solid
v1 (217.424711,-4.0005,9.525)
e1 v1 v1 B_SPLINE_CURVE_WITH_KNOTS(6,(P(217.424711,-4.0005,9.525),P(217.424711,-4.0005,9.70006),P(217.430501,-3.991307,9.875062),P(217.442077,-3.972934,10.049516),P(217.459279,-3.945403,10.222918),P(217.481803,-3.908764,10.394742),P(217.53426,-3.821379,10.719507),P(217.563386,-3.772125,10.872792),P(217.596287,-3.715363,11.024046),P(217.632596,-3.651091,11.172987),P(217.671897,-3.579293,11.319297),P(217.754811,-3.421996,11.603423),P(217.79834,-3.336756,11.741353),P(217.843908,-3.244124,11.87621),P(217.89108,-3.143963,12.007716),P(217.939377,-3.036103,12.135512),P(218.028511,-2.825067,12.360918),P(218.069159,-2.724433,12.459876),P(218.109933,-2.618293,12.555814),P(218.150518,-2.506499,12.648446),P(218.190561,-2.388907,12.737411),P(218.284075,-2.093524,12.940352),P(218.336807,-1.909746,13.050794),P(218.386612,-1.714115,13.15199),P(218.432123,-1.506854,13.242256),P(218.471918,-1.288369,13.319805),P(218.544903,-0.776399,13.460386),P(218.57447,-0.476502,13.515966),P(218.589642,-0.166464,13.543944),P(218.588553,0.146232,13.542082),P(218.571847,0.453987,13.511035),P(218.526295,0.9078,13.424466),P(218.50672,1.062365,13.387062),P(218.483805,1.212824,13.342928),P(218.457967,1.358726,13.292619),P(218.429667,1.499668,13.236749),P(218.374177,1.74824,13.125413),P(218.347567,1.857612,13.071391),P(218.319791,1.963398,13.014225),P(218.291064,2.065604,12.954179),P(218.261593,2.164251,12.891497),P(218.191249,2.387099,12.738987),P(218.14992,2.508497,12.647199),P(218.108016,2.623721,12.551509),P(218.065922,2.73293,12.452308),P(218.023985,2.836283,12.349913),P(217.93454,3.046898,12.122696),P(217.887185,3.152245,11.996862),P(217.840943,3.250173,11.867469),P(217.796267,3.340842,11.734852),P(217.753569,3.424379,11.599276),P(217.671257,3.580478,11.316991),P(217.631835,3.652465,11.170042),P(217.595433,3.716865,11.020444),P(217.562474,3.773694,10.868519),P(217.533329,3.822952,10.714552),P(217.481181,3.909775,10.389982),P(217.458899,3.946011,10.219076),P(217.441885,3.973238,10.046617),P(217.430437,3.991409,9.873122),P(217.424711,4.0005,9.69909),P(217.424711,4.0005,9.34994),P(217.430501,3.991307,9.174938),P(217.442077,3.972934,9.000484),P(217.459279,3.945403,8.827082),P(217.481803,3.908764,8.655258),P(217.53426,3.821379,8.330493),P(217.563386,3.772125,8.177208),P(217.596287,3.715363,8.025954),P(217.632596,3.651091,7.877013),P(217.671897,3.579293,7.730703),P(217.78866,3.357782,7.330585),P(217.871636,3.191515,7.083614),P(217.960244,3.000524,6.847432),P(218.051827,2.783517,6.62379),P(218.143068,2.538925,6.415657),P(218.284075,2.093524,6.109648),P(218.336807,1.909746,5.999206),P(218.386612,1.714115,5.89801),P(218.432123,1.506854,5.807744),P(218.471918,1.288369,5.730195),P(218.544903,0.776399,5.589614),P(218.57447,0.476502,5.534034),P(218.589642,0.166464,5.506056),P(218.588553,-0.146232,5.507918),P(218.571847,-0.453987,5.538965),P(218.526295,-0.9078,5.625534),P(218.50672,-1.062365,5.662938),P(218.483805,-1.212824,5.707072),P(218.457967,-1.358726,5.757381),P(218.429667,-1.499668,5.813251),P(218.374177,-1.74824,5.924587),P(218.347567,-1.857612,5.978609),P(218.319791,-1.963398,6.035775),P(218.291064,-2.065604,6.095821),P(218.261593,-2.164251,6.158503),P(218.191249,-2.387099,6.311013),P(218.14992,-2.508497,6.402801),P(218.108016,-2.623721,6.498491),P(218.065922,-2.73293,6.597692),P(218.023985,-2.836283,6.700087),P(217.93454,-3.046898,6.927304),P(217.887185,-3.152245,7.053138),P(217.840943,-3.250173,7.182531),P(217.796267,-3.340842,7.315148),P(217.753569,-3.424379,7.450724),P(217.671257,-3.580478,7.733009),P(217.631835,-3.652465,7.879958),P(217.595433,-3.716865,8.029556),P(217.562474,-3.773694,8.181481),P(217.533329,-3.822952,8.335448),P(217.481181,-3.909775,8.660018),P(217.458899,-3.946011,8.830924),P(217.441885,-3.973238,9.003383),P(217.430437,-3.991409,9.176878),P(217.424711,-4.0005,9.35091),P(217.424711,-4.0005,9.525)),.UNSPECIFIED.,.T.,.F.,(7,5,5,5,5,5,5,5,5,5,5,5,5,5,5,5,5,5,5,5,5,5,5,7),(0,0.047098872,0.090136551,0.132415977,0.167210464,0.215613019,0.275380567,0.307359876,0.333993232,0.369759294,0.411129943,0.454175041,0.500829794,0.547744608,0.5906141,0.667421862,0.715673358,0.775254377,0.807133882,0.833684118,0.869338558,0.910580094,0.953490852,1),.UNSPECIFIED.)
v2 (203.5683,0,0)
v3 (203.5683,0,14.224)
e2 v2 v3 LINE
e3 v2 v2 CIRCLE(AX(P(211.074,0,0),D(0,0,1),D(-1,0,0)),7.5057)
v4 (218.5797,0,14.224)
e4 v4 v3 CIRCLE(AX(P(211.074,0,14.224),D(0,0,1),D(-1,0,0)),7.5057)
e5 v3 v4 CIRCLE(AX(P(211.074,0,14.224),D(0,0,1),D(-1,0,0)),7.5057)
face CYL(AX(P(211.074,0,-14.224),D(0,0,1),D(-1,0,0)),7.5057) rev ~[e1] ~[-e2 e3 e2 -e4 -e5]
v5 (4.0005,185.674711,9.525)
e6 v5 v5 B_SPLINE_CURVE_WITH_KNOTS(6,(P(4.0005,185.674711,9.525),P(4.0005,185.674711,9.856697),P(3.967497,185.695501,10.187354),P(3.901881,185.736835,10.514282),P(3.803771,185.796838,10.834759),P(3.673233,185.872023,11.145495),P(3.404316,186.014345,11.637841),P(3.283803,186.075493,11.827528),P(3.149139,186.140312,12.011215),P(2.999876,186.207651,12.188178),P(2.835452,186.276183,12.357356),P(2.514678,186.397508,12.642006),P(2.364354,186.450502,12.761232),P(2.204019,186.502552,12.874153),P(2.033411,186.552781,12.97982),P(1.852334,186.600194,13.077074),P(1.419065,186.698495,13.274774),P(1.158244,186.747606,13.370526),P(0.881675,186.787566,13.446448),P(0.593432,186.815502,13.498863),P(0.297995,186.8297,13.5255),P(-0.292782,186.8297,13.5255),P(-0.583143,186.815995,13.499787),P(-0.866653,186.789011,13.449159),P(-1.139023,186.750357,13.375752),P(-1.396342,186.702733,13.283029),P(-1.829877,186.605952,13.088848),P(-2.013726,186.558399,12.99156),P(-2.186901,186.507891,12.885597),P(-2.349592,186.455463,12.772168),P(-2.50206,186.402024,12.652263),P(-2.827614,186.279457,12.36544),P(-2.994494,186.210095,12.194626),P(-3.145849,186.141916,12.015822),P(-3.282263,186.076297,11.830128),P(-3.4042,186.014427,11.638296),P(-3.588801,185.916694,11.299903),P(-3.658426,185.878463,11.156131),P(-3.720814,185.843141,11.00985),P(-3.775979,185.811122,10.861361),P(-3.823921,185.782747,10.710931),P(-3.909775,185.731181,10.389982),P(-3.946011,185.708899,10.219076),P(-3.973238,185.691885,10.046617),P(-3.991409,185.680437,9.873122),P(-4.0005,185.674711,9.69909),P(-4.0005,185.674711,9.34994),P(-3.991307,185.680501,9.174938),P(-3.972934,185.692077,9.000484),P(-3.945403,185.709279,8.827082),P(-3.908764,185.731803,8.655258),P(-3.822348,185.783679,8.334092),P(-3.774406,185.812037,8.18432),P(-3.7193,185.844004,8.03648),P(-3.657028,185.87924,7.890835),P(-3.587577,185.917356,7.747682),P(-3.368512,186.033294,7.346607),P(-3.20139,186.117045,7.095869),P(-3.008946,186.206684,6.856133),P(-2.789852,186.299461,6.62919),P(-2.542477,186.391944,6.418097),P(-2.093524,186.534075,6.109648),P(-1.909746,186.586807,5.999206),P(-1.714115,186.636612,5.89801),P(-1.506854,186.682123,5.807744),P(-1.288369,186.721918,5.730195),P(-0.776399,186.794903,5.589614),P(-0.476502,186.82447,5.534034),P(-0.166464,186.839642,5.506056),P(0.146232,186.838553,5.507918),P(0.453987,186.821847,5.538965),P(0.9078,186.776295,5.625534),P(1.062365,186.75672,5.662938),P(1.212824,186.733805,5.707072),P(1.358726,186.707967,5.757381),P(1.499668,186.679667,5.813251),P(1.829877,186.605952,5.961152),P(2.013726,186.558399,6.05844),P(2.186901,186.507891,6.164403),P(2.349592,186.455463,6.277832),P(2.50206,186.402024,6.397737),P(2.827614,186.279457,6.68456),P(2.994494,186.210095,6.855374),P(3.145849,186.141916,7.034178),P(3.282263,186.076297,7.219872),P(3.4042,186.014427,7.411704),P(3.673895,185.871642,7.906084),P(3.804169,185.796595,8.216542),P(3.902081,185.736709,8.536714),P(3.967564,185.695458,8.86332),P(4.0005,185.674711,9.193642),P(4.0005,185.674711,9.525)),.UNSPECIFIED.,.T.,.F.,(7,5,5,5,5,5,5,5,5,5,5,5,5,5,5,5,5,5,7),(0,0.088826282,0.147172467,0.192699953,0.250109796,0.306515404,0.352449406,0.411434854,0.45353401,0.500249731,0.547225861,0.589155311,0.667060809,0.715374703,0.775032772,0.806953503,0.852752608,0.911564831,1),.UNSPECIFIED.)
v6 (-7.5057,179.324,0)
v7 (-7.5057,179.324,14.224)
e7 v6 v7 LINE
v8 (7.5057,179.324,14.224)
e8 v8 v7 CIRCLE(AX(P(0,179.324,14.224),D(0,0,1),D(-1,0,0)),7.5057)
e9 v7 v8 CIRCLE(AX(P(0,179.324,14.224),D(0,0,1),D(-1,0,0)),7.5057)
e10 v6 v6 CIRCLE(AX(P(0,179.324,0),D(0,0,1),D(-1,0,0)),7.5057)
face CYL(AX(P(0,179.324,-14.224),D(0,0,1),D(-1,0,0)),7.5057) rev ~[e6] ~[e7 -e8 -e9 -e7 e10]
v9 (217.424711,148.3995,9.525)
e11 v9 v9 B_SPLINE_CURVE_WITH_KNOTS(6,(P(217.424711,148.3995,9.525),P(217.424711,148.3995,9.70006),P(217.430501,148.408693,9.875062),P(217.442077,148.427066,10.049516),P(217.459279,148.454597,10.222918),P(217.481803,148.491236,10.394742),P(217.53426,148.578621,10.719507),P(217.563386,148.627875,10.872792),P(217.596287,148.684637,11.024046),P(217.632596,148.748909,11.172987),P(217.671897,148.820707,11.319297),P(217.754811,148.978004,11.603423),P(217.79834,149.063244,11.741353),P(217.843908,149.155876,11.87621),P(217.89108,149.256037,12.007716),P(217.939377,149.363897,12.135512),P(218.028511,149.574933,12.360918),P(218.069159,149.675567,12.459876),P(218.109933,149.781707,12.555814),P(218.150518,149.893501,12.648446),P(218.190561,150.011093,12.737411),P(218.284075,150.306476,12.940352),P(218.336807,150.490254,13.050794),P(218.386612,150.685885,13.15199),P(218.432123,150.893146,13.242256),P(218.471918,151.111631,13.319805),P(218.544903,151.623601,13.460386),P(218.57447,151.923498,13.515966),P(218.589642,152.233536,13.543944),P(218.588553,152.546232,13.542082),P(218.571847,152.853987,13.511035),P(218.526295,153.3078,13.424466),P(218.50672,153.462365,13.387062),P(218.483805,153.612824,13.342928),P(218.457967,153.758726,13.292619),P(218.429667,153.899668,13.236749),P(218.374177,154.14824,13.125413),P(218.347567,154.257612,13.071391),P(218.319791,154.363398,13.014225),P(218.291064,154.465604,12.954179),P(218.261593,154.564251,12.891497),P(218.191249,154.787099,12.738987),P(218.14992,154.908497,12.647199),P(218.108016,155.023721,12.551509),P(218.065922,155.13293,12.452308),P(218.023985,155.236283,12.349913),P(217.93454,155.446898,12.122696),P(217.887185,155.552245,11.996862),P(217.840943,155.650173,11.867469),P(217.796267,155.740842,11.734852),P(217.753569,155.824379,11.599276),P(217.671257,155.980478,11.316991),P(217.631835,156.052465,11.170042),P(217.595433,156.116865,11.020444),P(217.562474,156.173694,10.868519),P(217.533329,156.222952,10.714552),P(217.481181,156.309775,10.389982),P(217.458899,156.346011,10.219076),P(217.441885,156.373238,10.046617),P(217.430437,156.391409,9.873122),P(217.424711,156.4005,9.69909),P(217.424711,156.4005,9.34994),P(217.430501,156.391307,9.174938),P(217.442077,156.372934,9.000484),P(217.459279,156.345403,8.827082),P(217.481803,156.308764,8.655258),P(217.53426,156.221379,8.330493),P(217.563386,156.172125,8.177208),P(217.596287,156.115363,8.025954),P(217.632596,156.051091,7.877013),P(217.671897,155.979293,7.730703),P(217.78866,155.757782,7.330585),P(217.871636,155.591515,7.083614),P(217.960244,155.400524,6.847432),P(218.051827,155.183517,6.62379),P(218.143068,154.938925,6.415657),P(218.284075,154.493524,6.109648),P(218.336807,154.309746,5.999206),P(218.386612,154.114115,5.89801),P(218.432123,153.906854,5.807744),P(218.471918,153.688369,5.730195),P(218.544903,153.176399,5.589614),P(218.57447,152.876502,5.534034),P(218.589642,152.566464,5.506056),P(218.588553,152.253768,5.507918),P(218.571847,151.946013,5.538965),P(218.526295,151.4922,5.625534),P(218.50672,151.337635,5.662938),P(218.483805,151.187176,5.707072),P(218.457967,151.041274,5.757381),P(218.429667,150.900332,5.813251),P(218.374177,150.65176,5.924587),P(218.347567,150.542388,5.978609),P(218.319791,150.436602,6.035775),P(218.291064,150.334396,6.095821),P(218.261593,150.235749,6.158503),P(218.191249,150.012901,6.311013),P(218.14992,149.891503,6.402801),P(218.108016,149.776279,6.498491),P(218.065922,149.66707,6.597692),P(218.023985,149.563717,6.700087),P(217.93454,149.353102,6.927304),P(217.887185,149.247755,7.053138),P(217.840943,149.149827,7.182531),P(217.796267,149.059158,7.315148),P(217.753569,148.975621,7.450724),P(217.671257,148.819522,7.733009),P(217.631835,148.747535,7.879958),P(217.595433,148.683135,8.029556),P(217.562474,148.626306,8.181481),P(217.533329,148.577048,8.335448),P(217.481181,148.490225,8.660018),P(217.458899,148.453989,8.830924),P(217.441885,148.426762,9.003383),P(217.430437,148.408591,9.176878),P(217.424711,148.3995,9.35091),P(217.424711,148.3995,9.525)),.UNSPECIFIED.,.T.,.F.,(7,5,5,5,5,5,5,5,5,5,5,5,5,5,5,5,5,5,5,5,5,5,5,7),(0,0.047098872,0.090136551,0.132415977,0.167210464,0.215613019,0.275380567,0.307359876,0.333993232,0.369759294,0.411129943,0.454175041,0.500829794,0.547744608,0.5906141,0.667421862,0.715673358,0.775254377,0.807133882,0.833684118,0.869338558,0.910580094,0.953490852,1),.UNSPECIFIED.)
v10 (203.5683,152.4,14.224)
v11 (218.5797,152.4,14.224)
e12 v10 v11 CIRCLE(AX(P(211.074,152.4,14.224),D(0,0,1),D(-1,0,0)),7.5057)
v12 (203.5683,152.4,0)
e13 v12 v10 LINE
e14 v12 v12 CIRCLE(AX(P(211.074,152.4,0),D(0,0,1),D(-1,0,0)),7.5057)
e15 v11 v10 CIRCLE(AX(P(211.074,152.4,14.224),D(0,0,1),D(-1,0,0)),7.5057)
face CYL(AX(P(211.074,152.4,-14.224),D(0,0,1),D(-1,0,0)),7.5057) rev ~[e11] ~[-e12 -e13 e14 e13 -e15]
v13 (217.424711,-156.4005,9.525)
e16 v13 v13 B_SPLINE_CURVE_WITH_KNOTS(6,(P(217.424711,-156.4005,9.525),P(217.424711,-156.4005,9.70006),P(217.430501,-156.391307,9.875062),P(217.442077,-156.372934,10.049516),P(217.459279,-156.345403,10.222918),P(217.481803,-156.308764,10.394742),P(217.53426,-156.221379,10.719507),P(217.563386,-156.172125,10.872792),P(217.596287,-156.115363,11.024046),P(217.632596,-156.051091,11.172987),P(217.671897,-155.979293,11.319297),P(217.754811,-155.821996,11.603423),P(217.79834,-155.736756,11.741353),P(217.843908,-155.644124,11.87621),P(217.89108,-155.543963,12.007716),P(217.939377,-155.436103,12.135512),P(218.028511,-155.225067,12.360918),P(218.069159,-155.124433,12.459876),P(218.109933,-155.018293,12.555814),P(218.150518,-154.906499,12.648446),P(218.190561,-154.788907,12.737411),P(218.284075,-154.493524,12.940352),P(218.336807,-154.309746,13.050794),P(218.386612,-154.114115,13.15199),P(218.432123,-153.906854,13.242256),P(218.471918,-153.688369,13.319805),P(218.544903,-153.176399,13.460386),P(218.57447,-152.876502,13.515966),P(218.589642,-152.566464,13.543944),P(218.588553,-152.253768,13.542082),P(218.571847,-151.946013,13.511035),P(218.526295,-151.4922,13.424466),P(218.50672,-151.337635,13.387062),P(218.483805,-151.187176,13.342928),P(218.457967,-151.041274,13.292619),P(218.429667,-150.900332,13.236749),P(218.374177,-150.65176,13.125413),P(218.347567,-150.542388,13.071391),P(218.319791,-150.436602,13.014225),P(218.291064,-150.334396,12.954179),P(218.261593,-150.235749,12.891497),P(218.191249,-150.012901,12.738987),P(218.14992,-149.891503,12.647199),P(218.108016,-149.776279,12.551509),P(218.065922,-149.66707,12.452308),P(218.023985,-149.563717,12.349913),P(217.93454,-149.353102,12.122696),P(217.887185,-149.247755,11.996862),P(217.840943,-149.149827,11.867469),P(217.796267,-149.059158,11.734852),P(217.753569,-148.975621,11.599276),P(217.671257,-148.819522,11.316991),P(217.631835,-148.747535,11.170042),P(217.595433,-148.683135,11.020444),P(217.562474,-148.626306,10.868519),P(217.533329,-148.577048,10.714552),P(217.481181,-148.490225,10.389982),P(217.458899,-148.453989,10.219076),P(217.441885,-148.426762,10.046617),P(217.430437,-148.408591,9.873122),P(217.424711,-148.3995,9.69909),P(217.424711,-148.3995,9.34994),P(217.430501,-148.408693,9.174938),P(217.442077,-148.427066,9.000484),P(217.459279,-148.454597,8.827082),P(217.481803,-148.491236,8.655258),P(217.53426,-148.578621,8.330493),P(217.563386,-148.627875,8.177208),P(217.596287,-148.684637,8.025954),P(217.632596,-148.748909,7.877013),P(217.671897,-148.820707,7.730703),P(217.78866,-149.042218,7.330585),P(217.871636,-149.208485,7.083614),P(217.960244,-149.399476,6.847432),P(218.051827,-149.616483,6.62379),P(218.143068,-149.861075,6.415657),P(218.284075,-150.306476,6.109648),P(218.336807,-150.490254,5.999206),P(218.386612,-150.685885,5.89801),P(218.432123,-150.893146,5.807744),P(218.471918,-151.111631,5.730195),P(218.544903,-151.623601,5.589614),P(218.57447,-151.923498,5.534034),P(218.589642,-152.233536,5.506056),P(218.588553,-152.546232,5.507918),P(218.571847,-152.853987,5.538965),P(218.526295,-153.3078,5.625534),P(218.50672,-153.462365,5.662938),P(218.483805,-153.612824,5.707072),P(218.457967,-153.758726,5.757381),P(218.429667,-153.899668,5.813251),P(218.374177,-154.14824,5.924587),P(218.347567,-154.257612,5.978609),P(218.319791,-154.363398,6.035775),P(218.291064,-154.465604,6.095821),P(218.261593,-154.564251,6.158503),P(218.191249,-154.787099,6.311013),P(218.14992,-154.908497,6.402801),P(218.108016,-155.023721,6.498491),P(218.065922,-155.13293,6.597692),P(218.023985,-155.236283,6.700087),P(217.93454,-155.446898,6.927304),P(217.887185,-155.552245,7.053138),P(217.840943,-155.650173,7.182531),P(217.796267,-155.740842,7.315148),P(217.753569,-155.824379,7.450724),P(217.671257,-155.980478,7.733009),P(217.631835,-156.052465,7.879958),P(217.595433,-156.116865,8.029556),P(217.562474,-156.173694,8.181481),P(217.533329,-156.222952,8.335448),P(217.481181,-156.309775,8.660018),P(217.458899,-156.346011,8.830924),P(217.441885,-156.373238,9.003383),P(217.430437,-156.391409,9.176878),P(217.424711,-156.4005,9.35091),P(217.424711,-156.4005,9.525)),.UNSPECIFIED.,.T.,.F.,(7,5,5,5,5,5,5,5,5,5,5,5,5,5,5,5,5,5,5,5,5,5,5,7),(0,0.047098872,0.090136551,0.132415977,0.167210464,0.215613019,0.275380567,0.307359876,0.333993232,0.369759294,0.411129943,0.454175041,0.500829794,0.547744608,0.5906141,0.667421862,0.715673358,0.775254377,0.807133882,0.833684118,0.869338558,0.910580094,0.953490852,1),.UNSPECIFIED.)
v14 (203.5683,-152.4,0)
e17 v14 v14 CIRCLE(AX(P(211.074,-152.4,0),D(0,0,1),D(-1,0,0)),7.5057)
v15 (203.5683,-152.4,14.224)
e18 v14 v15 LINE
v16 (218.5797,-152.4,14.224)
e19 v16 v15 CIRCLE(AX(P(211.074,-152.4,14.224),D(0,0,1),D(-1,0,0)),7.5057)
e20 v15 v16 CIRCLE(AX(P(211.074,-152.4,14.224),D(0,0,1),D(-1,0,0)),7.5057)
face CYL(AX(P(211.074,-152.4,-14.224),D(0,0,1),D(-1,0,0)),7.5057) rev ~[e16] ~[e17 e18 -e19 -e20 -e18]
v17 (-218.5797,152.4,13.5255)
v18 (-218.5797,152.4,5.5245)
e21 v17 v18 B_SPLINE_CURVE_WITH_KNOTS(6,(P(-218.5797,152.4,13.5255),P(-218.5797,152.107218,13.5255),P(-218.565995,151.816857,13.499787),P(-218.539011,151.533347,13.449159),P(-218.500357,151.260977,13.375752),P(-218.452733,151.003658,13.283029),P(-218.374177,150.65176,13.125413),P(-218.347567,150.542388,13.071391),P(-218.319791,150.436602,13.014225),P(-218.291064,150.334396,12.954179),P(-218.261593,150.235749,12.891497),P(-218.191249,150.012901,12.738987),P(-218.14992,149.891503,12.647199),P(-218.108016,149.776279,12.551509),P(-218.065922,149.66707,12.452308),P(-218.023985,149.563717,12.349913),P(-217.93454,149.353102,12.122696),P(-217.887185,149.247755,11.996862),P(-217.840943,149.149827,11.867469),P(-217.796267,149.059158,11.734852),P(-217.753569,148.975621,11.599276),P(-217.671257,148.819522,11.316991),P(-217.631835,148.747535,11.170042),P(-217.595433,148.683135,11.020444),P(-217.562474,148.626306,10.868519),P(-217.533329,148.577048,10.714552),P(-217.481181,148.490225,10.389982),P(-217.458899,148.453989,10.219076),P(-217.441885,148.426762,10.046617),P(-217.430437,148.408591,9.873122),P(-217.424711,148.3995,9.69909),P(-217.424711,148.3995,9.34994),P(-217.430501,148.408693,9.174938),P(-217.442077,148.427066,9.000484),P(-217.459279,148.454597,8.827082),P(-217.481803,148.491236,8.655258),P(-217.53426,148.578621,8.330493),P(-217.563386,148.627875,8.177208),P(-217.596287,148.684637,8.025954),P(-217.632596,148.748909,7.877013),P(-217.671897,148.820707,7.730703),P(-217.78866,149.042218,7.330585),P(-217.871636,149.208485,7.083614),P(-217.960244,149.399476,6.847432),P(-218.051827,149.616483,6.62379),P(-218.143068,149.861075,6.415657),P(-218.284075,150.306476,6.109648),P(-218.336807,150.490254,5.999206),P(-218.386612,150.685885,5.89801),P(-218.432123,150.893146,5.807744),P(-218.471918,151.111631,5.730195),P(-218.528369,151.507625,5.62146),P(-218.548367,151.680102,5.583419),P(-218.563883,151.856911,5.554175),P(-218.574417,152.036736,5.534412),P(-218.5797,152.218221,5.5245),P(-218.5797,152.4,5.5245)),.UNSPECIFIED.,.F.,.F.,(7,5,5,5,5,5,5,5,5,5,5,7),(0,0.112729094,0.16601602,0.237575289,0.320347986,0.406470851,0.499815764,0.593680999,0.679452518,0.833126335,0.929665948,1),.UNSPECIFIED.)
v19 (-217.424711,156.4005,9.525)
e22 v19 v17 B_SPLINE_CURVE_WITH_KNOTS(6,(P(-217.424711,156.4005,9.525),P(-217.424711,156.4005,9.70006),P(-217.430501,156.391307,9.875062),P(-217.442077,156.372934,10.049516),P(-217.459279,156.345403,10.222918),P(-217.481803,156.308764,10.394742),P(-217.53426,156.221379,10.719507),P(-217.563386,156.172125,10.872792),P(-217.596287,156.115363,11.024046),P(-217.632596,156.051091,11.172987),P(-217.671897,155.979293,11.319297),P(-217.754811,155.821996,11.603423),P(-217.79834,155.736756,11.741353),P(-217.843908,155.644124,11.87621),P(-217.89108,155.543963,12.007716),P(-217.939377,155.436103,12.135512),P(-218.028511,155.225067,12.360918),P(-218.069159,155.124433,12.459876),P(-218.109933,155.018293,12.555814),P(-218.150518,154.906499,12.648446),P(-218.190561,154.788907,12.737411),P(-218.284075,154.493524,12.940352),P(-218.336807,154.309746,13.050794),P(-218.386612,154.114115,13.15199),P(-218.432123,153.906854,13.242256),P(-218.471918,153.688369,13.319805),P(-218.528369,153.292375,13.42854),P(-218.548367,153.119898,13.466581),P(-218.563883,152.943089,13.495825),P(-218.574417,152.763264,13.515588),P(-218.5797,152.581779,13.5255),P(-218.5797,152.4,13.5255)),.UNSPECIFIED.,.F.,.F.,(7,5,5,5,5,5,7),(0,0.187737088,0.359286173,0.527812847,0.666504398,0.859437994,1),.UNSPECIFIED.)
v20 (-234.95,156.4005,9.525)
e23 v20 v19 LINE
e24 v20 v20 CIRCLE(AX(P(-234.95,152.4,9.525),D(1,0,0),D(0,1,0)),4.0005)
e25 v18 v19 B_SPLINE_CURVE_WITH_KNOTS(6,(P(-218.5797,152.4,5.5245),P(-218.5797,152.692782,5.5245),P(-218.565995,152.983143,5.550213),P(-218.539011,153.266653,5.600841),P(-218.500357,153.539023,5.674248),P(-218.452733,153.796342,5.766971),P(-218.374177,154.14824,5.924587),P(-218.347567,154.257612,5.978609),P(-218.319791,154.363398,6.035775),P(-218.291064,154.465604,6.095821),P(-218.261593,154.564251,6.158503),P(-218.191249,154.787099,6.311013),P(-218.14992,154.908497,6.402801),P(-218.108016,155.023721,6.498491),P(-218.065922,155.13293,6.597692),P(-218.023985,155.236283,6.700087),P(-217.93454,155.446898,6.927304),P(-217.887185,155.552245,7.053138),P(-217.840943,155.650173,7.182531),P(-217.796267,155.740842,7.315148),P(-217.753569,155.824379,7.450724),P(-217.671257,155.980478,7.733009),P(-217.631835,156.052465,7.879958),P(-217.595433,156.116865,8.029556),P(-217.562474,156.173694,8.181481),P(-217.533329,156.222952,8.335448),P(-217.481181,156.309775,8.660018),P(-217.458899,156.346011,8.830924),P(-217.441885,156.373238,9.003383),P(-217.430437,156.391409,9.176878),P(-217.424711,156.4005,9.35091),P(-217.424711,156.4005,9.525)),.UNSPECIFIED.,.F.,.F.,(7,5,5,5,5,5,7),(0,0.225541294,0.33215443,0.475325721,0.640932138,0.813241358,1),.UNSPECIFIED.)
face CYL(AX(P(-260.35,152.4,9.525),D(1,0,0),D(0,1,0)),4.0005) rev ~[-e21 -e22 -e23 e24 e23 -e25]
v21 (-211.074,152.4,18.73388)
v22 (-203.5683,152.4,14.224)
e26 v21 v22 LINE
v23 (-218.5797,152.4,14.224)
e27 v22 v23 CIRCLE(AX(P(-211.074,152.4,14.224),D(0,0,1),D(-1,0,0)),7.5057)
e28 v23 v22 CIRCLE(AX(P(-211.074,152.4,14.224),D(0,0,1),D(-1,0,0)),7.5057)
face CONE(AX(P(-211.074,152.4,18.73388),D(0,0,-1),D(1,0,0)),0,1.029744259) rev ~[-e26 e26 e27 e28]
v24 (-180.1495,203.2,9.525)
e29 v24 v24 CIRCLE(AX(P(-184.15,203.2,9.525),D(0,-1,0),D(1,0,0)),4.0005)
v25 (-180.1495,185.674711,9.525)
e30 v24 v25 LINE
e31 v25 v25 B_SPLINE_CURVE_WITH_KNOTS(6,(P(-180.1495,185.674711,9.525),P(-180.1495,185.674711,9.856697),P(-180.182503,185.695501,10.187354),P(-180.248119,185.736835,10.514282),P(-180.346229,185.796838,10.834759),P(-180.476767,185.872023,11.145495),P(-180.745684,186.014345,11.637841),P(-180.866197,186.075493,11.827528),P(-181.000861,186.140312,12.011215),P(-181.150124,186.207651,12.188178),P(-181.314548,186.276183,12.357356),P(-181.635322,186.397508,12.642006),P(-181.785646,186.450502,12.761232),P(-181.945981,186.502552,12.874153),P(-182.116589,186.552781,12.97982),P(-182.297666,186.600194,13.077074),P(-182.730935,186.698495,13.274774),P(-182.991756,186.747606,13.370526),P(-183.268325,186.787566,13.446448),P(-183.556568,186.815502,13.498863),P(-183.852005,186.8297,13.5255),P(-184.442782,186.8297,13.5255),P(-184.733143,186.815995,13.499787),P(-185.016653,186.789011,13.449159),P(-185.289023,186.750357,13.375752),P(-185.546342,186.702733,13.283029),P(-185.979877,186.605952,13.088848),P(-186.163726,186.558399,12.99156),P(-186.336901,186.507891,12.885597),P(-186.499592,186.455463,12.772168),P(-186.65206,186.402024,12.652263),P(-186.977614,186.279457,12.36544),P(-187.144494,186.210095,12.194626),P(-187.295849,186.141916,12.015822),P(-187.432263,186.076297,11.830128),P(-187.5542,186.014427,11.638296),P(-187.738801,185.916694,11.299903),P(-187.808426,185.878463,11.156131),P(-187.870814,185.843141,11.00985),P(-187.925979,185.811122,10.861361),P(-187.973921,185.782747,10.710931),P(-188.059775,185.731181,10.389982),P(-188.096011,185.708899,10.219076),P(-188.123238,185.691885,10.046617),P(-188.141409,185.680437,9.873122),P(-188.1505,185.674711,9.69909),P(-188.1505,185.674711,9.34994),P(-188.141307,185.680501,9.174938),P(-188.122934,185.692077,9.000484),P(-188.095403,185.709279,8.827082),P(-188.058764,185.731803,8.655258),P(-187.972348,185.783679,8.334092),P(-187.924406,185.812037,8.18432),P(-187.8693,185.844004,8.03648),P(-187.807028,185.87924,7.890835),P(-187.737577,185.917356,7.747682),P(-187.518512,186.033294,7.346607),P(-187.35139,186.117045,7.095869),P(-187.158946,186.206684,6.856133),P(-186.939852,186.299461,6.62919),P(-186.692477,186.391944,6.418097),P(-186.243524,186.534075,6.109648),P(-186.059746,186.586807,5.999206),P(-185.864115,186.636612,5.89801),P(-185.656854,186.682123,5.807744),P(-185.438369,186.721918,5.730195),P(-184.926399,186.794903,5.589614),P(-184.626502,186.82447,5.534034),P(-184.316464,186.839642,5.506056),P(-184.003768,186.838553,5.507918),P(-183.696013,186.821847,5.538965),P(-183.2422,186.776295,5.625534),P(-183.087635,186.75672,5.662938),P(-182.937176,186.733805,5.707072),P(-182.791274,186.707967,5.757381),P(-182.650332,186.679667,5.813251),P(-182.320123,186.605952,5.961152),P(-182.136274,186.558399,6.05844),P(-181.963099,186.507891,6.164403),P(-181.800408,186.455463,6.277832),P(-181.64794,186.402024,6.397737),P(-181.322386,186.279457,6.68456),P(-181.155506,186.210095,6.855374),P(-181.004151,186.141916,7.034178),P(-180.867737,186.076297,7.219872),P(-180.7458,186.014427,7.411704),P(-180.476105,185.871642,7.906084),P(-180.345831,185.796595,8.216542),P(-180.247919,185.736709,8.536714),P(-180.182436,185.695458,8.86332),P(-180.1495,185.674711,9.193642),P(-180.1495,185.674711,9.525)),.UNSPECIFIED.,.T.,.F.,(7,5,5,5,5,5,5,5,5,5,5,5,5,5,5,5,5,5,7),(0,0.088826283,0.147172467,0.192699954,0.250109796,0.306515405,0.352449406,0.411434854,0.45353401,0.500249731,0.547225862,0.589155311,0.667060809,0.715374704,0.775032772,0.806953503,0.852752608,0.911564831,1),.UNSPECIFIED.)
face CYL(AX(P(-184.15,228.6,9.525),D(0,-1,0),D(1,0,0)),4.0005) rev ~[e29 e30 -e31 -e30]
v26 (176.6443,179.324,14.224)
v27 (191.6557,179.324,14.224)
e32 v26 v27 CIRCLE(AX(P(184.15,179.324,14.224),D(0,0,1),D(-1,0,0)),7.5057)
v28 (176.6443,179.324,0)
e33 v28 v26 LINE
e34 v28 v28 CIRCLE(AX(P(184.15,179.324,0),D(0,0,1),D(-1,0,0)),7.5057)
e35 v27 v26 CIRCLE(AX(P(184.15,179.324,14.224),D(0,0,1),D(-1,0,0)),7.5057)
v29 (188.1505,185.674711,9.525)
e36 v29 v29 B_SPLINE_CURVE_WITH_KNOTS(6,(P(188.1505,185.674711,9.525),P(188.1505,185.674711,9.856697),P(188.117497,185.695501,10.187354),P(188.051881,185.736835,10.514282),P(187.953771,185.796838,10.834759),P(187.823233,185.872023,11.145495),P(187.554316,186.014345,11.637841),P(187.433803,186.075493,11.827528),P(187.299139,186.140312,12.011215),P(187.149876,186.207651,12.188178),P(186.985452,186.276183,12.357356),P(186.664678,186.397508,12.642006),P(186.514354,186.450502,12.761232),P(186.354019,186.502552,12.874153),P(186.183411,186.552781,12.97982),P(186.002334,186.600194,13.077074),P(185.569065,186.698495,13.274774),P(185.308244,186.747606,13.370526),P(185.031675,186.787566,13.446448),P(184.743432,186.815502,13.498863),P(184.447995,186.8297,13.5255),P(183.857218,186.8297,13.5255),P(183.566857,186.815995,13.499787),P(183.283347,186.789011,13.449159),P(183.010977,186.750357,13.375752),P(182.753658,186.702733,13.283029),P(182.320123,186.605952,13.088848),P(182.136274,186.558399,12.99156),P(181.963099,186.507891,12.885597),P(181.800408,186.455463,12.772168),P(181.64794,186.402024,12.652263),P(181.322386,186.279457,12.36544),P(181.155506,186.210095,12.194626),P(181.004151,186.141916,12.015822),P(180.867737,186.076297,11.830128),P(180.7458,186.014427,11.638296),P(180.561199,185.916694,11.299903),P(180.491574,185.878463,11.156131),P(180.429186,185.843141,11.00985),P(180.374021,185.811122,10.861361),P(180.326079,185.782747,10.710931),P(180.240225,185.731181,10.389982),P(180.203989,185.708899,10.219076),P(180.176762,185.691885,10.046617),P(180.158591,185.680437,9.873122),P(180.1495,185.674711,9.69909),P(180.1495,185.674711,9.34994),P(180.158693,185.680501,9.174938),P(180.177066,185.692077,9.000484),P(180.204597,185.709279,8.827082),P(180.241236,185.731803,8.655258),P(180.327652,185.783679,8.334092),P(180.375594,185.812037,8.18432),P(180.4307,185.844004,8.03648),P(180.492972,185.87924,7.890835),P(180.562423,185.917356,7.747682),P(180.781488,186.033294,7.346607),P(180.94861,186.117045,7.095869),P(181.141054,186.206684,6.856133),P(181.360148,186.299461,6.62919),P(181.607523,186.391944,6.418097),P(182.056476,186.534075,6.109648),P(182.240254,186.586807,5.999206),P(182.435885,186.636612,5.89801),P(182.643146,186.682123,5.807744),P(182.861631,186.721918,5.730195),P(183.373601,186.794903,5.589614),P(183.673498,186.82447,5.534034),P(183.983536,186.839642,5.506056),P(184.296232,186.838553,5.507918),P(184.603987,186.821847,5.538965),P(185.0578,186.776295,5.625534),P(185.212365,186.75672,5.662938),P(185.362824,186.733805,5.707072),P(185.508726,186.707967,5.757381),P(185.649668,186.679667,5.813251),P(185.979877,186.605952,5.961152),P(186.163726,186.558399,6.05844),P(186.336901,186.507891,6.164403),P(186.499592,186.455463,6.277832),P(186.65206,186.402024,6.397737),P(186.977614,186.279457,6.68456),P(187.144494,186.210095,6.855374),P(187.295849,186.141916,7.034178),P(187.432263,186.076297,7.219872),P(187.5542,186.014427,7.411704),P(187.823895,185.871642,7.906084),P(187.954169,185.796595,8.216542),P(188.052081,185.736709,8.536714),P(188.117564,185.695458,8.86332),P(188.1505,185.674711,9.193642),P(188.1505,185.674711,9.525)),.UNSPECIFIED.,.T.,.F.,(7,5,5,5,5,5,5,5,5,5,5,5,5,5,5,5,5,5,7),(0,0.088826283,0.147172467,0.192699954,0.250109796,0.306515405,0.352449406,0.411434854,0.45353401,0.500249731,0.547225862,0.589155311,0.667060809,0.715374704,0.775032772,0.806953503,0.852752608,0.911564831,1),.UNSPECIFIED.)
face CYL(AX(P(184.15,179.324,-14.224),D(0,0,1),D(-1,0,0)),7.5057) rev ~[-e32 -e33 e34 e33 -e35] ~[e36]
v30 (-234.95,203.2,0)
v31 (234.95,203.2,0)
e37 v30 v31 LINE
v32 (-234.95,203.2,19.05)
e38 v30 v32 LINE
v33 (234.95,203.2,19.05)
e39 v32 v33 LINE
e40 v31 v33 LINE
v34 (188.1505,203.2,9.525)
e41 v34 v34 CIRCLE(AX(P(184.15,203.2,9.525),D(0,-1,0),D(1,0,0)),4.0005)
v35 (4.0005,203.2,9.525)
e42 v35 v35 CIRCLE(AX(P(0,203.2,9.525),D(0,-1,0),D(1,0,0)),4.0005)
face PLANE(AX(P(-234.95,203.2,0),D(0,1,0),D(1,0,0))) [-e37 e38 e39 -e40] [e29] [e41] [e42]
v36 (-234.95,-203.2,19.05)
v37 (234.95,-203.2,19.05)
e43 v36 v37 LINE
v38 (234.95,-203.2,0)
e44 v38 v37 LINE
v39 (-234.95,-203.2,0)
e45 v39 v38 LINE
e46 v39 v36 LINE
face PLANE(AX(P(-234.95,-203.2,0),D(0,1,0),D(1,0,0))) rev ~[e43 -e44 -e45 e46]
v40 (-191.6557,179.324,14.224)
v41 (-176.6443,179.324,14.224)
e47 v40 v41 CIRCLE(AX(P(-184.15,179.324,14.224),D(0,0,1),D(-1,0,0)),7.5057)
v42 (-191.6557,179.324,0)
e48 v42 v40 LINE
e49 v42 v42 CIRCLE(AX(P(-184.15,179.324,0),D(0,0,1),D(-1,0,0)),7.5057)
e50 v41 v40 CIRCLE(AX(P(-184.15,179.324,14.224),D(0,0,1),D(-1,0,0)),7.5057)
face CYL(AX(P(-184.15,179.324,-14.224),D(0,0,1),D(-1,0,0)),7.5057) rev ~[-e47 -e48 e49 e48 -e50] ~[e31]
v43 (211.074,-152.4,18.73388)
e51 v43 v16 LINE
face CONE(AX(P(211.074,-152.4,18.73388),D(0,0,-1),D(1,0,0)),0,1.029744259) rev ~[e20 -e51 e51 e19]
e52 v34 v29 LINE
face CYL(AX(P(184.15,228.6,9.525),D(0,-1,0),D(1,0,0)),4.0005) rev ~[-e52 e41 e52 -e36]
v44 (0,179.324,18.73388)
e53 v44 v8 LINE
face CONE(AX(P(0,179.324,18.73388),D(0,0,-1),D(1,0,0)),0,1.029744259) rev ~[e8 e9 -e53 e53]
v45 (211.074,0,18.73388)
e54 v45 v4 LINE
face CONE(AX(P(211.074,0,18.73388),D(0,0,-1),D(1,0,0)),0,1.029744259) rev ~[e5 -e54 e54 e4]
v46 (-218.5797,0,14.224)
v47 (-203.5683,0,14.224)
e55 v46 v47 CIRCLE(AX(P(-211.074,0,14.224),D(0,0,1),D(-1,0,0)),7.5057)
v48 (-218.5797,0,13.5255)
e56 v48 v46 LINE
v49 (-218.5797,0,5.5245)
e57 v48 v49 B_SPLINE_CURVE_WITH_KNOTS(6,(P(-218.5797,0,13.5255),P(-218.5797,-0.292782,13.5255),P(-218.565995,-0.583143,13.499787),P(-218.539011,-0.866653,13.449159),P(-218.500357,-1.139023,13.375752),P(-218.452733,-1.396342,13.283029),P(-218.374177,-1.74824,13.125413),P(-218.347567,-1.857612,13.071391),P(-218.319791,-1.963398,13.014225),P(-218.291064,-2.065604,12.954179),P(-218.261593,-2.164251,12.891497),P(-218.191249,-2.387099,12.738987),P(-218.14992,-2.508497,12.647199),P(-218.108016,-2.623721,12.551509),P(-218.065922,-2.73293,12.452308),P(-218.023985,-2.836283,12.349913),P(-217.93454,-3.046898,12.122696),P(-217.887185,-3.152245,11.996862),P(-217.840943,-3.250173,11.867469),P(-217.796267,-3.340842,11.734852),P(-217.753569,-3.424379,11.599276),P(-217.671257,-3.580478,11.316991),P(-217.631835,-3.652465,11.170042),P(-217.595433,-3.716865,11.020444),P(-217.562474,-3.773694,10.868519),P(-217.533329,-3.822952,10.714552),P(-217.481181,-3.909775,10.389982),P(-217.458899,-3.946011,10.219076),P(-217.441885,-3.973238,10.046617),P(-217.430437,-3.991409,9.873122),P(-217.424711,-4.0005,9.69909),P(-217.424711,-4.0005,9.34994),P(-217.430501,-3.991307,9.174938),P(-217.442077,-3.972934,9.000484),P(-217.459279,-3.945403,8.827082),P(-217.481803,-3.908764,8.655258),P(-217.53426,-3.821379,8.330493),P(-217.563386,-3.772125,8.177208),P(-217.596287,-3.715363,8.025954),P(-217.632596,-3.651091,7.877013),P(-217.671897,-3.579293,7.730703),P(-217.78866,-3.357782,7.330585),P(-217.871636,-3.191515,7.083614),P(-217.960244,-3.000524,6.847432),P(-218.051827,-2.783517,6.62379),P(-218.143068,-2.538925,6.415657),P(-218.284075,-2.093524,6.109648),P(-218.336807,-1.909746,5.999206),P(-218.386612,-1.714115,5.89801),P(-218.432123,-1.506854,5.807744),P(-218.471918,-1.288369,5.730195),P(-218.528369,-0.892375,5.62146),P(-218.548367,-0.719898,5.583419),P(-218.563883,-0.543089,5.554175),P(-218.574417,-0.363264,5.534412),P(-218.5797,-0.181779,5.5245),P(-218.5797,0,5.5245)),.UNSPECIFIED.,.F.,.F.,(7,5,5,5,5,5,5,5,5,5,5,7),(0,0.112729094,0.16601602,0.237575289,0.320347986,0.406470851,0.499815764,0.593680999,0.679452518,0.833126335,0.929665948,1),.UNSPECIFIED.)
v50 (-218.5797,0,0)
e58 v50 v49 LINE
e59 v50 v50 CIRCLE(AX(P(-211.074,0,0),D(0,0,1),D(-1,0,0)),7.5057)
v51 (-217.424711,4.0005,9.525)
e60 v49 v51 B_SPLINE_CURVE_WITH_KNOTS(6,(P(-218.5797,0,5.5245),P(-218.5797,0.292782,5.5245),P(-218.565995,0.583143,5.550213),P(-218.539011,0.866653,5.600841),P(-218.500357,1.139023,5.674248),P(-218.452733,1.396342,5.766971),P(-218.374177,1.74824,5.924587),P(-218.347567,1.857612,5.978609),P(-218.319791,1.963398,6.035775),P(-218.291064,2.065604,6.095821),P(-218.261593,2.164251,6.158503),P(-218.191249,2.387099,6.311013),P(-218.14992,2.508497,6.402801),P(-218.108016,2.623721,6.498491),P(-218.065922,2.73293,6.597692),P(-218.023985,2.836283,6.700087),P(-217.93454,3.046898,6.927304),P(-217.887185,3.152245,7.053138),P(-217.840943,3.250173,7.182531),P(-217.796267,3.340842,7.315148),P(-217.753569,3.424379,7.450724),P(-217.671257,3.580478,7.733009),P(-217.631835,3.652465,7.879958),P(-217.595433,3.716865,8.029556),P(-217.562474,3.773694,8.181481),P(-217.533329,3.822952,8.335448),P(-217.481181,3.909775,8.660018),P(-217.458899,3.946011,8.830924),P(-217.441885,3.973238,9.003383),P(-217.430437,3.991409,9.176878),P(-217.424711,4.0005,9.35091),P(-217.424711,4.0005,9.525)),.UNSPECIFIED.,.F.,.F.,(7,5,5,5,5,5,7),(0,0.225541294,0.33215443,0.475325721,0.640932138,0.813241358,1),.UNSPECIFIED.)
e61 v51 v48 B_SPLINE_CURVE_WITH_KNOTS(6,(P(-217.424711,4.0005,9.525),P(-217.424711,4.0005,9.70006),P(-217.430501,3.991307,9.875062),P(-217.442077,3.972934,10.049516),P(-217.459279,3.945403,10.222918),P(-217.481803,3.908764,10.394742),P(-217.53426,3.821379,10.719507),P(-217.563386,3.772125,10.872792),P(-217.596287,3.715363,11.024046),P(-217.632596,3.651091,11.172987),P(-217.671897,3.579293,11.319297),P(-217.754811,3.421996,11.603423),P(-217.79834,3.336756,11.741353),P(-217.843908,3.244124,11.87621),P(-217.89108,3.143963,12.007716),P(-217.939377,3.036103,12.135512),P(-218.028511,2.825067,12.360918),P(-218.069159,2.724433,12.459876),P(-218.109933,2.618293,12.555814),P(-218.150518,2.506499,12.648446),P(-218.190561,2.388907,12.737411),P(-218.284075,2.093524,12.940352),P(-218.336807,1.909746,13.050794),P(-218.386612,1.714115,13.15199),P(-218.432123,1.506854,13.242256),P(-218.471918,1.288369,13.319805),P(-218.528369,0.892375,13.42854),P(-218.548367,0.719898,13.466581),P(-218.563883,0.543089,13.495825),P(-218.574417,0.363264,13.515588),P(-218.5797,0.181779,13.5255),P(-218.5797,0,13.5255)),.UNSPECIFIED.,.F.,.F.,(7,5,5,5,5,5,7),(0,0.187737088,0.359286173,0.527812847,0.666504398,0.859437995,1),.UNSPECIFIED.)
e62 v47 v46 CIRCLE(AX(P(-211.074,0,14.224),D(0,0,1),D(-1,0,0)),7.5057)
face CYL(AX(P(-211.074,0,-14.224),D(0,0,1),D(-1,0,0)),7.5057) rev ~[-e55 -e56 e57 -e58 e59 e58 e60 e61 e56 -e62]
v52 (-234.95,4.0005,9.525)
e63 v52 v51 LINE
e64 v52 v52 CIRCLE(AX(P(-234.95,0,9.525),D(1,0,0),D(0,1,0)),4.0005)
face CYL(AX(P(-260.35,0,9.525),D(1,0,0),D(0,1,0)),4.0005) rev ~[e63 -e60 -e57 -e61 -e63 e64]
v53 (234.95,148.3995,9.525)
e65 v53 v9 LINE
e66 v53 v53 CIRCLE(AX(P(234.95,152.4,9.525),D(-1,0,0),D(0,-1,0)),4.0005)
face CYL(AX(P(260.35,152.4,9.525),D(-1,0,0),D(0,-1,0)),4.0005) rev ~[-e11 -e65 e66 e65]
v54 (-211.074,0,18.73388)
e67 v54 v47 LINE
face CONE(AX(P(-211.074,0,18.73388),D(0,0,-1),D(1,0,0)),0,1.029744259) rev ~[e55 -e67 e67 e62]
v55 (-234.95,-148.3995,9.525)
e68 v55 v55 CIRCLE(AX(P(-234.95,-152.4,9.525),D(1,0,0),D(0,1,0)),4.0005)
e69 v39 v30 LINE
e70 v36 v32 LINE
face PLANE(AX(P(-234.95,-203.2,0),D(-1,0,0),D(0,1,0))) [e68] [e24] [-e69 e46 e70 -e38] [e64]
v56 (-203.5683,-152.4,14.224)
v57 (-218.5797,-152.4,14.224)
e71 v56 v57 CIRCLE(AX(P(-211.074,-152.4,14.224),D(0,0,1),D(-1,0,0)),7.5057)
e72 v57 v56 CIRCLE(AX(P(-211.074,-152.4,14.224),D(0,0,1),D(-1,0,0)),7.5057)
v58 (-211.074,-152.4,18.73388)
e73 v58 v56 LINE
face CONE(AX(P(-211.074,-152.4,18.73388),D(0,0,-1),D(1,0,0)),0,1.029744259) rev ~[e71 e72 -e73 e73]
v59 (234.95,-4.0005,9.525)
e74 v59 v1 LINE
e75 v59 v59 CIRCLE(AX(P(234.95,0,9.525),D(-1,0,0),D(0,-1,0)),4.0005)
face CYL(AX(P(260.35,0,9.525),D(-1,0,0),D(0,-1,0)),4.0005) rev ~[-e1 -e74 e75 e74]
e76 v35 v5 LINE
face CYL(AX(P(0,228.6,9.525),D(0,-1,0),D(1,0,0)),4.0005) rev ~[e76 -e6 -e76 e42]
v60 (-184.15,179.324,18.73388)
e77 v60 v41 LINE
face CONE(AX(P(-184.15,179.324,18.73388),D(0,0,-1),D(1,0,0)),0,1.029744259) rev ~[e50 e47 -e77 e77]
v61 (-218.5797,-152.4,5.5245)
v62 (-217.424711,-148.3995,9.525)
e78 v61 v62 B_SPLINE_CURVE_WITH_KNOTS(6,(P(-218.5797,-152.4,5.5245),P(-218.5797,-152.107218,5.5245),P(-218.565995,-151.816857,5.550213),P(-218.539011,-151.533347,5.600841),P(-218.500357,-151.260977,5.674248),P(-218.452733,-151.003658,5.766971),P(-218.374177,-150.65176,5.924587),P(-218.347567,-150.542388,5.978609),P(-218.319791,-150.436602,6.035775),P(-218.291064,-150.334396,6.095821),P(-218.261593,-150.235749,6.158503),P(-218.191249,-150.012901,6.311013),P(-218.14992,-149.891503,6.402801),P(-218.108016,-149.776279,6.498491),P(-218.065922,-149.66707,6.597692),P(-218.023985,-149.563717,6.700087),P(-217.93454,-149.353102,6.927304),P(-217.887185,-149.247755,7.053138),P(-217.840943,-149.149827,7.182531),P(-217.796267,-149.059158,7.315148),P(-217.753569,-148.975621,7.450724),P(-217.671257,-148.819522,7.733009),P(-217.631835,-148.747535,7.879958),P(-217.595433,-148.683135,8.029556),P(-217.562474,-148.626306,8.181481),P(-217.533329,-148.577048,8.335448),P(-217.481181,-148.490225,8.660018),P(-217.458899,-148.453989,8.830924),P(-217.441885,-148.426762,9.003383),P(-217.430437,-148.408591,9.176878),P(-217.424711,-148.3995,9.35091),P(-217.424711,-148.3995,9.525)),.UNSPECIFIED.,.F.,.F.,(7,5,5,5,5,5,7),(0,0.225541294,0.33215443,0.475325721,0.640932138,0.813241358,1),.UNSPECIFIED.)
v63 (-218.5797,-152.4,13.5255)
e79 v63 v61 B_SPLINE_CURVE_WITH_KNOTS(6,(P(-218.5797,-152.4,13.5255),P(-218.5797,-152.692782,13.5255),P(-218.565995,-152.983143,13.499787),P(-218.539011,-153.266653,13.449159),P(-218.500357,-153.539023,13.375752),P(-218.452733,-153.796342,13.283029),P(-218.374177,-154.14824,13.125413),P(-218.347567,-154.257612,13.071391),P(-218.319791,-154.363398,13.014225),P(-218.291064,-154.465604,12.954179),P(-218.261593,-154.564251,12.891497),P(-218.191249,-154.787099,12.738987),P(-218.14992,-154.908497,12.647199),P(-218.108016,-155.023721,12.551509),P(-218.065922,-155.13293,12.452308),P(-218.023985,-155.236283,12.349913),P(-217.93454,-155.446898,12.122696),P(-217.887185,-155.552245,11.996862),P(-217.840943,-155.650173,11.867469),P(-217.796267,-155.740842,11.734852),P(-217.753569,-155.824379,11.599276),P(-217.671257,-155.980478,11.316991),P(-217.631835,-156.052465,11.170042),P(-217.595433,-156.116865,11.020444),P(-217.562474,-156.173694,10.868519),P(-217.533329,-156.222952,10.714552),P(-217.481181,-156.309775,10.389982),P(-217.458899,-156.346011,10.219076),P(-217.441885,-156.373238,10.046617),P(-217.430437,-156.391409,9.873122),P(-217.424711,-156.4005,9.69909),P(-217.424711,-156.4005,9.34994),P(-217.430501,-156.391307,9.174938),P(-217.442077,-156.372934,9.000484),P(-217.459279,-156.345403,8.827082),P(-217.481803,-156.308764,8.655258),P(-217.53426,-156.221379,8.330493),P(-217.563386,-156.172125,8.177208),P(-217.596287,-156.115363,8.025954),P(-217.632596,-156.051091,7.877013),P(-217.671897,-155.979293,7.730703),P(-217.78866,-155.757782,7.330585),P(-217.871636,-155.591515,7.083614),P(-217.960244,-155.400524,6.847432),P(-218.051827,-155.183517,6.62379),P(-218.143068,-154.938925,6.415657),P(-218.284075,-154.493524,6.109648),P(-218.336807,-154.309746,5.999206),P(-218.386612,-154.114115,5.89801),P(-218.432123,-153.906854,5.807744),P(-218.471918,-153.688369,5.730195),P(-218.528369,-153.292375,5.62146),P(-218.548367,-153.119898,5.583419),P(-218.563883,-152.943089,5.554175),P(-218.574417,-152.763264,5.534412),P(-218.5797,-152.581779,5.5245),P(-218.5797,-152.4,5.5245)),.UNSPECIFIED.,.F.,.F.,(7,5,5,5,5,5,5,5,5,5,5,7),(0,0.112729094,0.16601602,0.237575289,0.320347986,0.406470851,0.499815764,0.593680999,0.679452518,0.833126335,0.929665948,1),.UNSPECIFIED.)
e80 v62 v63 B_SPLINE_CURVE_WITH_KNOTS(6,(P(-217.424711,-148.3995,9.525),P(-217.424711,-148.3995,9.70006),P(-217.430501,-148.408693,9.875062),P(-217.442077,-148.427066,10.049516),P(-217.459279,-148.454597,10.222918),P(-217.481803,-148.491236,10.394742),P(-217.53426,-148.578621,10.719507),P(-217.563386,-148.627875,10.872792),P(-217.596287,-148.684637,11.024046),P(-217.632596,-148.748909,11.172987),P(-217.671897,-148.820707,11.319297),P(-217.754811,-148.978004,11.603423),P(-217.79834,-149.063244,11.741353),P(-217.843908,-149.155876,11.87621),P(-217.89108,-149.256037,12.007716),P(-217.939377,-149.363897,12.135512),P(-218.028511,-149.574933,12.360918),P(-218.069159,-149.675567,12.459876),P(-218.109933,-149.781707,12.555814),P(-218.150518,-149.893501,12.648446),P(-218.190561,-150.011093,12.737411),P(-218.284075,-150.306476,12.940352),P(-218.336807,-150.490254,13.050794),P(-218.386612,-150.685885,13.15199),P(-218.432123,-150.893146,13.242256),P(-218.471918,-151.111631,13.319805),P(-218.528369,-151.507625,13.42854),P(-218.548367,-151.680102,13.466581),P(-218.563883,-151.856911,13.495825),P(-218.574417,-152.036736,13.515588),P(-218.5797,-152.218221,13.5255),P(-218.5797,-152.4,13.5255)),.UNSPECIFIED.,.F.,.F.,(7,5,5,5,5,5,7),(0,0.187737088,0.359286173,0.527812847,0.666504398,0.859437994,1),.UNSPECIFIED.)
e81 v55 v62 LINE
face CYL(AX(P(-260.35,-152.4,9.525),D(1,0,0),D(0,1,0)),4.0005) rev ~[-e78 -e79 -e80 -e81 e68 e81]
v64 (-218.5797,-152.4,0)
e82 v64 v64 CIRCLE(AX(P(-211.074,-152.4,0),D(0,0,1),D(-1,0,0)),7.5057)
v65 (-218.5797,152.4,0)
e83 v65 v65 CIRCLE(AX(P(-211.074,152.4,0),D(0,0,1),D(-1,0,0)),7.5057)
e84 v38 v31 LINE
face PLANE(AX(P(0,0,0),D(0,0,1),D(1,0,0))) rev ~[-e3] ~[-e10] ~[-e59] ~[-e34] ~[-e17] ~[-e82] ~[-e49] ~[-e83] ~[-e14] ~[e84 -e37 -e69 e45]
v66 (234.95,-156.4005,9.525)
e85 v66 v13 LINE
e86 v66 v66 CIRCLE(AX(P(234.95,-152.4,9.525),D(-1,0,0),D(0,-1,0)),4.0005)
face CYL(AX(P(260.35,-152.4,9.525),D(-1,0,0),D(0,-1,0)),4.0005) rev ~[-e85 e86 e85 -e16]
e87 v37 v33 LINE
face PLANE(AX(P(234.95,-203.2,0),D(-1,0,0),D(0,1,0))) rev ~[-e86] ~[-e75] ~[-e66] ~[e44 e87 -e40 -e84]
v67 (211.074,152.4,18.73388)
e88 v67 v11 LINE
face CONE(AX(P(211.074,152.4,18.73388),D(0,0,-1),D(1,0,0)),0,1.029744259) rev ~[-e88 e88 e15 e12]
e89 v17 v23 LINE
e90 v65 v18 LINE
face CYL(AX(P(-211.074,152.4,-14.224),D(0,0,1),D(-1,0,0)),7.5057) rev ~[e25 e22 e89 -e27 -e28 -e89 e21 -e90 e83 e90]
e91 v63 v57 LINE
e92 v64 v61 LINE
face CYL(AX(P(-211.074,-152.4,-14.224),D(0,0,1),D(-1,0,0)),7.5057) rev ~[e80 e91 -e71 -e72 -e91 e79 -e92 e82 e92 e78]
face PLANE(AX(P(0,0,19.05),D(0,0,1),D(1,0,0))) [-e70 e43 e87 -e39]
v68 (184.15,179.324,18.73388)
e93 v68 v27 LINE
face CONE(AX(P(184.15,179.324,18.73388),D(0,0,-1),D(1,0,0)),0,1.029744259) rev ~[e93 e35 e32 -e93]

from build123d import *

# Parameters (mm, degrees)
F0_W     = 469.9
F0_H     = 406.4
F1_DEPTH = 19.05
F3_D     = 15.0114
F3_DEPTH = 14.224
F3_TIP   = 4.5098795482
F5_D     = 8.001
F5_DEPTH = 25.4
F5_TIP   = 2.4037429064
F7_D     = 8.001
F7_DEPTH = 25.4
F7_TIP   = 2.4037429064
F9_D     = 8.001
F9_DEPTH = 25.4
F9_TIP   = 2.4037429064


with BuildPart() as f1:
    # F0 (on Top) → F1 (new body)
    with BuildSketch(Plane.XY):
        Rectangle(F0_W, F0_H)
    extrude(amount=F1_DEPTH)

    # F3
    with Locations(Plane(origin=(0, 0, 0), x_dir=(1, 0, 0), z_dir=(0, 0, -1))):
        with Locations((-211.074, 152.4), (-211.074, 0), (-211.074, -152.4), (-184.15, -179.324), (0, -179.324), (184.15, -179.324), (211.074, -152.4), (211.074, 0), (211.074, 152.4)):
            Hole(F3_D / 2, depth=F3_DEPTH)
            with Locations((0, 0, -(F3_DEPTH + F3_TIP / 2))):  # 118° drill point
                Cone(0, F3_D / 2, F3_TIP, mode=Mode.SUBTRACT)

    # F5
    with Locations(Plane.YZ.offset(234.95)):
        with Locations((-152.4, 9.525), (0, 9.525), (152.4, 9.525)):
            Hole(F5_D / 2, depth=F5_DEPTH)
            with Locations((0, 0, -(F5_DEPTH + F5_TIP / 2))):  # 118° drill point
                Cone(0, F5_D / 2, F5_TIP, mode=Mode.SUBTRACT)

    # F7
    with Locations(Plane(origin=(0, 203.2, 0), x_dir=(-1, 0, 0), z_dir=(0, 1, 0))):
        with Locations((-184.15, 9.525), (0, 9.525), (184.15, 9.525)):
            Hole(F7_D / 2, depth=F7_DEPTH)
            with Locations((0, 0, -(F7_DEPTH + F7_TIP / 2))):  # 118° drill point
                Cone(0, F7_D / 2, F7_TIP, mode=Mode.SUBTRACT)

    # F9
    with Locations(Plane(origin=(-234.95, 0, 0), x_dir=(0, -1, 0), z_dir=(-1, 0, 0))):
        with Locations((-152.4, 9.525), (0, 9.525), (152.4, 9.525)):
            Hole(F9_D / 2, depth=F9_DEPTH)
            with Locations((0, 0, -(F9_DEPTH + F9_TIP / 2))):  # 118° drill point
                Cone(0, F9_D / 2, F9_TIP, mode=Mode.SUBTRACT)


solid = f1.part
